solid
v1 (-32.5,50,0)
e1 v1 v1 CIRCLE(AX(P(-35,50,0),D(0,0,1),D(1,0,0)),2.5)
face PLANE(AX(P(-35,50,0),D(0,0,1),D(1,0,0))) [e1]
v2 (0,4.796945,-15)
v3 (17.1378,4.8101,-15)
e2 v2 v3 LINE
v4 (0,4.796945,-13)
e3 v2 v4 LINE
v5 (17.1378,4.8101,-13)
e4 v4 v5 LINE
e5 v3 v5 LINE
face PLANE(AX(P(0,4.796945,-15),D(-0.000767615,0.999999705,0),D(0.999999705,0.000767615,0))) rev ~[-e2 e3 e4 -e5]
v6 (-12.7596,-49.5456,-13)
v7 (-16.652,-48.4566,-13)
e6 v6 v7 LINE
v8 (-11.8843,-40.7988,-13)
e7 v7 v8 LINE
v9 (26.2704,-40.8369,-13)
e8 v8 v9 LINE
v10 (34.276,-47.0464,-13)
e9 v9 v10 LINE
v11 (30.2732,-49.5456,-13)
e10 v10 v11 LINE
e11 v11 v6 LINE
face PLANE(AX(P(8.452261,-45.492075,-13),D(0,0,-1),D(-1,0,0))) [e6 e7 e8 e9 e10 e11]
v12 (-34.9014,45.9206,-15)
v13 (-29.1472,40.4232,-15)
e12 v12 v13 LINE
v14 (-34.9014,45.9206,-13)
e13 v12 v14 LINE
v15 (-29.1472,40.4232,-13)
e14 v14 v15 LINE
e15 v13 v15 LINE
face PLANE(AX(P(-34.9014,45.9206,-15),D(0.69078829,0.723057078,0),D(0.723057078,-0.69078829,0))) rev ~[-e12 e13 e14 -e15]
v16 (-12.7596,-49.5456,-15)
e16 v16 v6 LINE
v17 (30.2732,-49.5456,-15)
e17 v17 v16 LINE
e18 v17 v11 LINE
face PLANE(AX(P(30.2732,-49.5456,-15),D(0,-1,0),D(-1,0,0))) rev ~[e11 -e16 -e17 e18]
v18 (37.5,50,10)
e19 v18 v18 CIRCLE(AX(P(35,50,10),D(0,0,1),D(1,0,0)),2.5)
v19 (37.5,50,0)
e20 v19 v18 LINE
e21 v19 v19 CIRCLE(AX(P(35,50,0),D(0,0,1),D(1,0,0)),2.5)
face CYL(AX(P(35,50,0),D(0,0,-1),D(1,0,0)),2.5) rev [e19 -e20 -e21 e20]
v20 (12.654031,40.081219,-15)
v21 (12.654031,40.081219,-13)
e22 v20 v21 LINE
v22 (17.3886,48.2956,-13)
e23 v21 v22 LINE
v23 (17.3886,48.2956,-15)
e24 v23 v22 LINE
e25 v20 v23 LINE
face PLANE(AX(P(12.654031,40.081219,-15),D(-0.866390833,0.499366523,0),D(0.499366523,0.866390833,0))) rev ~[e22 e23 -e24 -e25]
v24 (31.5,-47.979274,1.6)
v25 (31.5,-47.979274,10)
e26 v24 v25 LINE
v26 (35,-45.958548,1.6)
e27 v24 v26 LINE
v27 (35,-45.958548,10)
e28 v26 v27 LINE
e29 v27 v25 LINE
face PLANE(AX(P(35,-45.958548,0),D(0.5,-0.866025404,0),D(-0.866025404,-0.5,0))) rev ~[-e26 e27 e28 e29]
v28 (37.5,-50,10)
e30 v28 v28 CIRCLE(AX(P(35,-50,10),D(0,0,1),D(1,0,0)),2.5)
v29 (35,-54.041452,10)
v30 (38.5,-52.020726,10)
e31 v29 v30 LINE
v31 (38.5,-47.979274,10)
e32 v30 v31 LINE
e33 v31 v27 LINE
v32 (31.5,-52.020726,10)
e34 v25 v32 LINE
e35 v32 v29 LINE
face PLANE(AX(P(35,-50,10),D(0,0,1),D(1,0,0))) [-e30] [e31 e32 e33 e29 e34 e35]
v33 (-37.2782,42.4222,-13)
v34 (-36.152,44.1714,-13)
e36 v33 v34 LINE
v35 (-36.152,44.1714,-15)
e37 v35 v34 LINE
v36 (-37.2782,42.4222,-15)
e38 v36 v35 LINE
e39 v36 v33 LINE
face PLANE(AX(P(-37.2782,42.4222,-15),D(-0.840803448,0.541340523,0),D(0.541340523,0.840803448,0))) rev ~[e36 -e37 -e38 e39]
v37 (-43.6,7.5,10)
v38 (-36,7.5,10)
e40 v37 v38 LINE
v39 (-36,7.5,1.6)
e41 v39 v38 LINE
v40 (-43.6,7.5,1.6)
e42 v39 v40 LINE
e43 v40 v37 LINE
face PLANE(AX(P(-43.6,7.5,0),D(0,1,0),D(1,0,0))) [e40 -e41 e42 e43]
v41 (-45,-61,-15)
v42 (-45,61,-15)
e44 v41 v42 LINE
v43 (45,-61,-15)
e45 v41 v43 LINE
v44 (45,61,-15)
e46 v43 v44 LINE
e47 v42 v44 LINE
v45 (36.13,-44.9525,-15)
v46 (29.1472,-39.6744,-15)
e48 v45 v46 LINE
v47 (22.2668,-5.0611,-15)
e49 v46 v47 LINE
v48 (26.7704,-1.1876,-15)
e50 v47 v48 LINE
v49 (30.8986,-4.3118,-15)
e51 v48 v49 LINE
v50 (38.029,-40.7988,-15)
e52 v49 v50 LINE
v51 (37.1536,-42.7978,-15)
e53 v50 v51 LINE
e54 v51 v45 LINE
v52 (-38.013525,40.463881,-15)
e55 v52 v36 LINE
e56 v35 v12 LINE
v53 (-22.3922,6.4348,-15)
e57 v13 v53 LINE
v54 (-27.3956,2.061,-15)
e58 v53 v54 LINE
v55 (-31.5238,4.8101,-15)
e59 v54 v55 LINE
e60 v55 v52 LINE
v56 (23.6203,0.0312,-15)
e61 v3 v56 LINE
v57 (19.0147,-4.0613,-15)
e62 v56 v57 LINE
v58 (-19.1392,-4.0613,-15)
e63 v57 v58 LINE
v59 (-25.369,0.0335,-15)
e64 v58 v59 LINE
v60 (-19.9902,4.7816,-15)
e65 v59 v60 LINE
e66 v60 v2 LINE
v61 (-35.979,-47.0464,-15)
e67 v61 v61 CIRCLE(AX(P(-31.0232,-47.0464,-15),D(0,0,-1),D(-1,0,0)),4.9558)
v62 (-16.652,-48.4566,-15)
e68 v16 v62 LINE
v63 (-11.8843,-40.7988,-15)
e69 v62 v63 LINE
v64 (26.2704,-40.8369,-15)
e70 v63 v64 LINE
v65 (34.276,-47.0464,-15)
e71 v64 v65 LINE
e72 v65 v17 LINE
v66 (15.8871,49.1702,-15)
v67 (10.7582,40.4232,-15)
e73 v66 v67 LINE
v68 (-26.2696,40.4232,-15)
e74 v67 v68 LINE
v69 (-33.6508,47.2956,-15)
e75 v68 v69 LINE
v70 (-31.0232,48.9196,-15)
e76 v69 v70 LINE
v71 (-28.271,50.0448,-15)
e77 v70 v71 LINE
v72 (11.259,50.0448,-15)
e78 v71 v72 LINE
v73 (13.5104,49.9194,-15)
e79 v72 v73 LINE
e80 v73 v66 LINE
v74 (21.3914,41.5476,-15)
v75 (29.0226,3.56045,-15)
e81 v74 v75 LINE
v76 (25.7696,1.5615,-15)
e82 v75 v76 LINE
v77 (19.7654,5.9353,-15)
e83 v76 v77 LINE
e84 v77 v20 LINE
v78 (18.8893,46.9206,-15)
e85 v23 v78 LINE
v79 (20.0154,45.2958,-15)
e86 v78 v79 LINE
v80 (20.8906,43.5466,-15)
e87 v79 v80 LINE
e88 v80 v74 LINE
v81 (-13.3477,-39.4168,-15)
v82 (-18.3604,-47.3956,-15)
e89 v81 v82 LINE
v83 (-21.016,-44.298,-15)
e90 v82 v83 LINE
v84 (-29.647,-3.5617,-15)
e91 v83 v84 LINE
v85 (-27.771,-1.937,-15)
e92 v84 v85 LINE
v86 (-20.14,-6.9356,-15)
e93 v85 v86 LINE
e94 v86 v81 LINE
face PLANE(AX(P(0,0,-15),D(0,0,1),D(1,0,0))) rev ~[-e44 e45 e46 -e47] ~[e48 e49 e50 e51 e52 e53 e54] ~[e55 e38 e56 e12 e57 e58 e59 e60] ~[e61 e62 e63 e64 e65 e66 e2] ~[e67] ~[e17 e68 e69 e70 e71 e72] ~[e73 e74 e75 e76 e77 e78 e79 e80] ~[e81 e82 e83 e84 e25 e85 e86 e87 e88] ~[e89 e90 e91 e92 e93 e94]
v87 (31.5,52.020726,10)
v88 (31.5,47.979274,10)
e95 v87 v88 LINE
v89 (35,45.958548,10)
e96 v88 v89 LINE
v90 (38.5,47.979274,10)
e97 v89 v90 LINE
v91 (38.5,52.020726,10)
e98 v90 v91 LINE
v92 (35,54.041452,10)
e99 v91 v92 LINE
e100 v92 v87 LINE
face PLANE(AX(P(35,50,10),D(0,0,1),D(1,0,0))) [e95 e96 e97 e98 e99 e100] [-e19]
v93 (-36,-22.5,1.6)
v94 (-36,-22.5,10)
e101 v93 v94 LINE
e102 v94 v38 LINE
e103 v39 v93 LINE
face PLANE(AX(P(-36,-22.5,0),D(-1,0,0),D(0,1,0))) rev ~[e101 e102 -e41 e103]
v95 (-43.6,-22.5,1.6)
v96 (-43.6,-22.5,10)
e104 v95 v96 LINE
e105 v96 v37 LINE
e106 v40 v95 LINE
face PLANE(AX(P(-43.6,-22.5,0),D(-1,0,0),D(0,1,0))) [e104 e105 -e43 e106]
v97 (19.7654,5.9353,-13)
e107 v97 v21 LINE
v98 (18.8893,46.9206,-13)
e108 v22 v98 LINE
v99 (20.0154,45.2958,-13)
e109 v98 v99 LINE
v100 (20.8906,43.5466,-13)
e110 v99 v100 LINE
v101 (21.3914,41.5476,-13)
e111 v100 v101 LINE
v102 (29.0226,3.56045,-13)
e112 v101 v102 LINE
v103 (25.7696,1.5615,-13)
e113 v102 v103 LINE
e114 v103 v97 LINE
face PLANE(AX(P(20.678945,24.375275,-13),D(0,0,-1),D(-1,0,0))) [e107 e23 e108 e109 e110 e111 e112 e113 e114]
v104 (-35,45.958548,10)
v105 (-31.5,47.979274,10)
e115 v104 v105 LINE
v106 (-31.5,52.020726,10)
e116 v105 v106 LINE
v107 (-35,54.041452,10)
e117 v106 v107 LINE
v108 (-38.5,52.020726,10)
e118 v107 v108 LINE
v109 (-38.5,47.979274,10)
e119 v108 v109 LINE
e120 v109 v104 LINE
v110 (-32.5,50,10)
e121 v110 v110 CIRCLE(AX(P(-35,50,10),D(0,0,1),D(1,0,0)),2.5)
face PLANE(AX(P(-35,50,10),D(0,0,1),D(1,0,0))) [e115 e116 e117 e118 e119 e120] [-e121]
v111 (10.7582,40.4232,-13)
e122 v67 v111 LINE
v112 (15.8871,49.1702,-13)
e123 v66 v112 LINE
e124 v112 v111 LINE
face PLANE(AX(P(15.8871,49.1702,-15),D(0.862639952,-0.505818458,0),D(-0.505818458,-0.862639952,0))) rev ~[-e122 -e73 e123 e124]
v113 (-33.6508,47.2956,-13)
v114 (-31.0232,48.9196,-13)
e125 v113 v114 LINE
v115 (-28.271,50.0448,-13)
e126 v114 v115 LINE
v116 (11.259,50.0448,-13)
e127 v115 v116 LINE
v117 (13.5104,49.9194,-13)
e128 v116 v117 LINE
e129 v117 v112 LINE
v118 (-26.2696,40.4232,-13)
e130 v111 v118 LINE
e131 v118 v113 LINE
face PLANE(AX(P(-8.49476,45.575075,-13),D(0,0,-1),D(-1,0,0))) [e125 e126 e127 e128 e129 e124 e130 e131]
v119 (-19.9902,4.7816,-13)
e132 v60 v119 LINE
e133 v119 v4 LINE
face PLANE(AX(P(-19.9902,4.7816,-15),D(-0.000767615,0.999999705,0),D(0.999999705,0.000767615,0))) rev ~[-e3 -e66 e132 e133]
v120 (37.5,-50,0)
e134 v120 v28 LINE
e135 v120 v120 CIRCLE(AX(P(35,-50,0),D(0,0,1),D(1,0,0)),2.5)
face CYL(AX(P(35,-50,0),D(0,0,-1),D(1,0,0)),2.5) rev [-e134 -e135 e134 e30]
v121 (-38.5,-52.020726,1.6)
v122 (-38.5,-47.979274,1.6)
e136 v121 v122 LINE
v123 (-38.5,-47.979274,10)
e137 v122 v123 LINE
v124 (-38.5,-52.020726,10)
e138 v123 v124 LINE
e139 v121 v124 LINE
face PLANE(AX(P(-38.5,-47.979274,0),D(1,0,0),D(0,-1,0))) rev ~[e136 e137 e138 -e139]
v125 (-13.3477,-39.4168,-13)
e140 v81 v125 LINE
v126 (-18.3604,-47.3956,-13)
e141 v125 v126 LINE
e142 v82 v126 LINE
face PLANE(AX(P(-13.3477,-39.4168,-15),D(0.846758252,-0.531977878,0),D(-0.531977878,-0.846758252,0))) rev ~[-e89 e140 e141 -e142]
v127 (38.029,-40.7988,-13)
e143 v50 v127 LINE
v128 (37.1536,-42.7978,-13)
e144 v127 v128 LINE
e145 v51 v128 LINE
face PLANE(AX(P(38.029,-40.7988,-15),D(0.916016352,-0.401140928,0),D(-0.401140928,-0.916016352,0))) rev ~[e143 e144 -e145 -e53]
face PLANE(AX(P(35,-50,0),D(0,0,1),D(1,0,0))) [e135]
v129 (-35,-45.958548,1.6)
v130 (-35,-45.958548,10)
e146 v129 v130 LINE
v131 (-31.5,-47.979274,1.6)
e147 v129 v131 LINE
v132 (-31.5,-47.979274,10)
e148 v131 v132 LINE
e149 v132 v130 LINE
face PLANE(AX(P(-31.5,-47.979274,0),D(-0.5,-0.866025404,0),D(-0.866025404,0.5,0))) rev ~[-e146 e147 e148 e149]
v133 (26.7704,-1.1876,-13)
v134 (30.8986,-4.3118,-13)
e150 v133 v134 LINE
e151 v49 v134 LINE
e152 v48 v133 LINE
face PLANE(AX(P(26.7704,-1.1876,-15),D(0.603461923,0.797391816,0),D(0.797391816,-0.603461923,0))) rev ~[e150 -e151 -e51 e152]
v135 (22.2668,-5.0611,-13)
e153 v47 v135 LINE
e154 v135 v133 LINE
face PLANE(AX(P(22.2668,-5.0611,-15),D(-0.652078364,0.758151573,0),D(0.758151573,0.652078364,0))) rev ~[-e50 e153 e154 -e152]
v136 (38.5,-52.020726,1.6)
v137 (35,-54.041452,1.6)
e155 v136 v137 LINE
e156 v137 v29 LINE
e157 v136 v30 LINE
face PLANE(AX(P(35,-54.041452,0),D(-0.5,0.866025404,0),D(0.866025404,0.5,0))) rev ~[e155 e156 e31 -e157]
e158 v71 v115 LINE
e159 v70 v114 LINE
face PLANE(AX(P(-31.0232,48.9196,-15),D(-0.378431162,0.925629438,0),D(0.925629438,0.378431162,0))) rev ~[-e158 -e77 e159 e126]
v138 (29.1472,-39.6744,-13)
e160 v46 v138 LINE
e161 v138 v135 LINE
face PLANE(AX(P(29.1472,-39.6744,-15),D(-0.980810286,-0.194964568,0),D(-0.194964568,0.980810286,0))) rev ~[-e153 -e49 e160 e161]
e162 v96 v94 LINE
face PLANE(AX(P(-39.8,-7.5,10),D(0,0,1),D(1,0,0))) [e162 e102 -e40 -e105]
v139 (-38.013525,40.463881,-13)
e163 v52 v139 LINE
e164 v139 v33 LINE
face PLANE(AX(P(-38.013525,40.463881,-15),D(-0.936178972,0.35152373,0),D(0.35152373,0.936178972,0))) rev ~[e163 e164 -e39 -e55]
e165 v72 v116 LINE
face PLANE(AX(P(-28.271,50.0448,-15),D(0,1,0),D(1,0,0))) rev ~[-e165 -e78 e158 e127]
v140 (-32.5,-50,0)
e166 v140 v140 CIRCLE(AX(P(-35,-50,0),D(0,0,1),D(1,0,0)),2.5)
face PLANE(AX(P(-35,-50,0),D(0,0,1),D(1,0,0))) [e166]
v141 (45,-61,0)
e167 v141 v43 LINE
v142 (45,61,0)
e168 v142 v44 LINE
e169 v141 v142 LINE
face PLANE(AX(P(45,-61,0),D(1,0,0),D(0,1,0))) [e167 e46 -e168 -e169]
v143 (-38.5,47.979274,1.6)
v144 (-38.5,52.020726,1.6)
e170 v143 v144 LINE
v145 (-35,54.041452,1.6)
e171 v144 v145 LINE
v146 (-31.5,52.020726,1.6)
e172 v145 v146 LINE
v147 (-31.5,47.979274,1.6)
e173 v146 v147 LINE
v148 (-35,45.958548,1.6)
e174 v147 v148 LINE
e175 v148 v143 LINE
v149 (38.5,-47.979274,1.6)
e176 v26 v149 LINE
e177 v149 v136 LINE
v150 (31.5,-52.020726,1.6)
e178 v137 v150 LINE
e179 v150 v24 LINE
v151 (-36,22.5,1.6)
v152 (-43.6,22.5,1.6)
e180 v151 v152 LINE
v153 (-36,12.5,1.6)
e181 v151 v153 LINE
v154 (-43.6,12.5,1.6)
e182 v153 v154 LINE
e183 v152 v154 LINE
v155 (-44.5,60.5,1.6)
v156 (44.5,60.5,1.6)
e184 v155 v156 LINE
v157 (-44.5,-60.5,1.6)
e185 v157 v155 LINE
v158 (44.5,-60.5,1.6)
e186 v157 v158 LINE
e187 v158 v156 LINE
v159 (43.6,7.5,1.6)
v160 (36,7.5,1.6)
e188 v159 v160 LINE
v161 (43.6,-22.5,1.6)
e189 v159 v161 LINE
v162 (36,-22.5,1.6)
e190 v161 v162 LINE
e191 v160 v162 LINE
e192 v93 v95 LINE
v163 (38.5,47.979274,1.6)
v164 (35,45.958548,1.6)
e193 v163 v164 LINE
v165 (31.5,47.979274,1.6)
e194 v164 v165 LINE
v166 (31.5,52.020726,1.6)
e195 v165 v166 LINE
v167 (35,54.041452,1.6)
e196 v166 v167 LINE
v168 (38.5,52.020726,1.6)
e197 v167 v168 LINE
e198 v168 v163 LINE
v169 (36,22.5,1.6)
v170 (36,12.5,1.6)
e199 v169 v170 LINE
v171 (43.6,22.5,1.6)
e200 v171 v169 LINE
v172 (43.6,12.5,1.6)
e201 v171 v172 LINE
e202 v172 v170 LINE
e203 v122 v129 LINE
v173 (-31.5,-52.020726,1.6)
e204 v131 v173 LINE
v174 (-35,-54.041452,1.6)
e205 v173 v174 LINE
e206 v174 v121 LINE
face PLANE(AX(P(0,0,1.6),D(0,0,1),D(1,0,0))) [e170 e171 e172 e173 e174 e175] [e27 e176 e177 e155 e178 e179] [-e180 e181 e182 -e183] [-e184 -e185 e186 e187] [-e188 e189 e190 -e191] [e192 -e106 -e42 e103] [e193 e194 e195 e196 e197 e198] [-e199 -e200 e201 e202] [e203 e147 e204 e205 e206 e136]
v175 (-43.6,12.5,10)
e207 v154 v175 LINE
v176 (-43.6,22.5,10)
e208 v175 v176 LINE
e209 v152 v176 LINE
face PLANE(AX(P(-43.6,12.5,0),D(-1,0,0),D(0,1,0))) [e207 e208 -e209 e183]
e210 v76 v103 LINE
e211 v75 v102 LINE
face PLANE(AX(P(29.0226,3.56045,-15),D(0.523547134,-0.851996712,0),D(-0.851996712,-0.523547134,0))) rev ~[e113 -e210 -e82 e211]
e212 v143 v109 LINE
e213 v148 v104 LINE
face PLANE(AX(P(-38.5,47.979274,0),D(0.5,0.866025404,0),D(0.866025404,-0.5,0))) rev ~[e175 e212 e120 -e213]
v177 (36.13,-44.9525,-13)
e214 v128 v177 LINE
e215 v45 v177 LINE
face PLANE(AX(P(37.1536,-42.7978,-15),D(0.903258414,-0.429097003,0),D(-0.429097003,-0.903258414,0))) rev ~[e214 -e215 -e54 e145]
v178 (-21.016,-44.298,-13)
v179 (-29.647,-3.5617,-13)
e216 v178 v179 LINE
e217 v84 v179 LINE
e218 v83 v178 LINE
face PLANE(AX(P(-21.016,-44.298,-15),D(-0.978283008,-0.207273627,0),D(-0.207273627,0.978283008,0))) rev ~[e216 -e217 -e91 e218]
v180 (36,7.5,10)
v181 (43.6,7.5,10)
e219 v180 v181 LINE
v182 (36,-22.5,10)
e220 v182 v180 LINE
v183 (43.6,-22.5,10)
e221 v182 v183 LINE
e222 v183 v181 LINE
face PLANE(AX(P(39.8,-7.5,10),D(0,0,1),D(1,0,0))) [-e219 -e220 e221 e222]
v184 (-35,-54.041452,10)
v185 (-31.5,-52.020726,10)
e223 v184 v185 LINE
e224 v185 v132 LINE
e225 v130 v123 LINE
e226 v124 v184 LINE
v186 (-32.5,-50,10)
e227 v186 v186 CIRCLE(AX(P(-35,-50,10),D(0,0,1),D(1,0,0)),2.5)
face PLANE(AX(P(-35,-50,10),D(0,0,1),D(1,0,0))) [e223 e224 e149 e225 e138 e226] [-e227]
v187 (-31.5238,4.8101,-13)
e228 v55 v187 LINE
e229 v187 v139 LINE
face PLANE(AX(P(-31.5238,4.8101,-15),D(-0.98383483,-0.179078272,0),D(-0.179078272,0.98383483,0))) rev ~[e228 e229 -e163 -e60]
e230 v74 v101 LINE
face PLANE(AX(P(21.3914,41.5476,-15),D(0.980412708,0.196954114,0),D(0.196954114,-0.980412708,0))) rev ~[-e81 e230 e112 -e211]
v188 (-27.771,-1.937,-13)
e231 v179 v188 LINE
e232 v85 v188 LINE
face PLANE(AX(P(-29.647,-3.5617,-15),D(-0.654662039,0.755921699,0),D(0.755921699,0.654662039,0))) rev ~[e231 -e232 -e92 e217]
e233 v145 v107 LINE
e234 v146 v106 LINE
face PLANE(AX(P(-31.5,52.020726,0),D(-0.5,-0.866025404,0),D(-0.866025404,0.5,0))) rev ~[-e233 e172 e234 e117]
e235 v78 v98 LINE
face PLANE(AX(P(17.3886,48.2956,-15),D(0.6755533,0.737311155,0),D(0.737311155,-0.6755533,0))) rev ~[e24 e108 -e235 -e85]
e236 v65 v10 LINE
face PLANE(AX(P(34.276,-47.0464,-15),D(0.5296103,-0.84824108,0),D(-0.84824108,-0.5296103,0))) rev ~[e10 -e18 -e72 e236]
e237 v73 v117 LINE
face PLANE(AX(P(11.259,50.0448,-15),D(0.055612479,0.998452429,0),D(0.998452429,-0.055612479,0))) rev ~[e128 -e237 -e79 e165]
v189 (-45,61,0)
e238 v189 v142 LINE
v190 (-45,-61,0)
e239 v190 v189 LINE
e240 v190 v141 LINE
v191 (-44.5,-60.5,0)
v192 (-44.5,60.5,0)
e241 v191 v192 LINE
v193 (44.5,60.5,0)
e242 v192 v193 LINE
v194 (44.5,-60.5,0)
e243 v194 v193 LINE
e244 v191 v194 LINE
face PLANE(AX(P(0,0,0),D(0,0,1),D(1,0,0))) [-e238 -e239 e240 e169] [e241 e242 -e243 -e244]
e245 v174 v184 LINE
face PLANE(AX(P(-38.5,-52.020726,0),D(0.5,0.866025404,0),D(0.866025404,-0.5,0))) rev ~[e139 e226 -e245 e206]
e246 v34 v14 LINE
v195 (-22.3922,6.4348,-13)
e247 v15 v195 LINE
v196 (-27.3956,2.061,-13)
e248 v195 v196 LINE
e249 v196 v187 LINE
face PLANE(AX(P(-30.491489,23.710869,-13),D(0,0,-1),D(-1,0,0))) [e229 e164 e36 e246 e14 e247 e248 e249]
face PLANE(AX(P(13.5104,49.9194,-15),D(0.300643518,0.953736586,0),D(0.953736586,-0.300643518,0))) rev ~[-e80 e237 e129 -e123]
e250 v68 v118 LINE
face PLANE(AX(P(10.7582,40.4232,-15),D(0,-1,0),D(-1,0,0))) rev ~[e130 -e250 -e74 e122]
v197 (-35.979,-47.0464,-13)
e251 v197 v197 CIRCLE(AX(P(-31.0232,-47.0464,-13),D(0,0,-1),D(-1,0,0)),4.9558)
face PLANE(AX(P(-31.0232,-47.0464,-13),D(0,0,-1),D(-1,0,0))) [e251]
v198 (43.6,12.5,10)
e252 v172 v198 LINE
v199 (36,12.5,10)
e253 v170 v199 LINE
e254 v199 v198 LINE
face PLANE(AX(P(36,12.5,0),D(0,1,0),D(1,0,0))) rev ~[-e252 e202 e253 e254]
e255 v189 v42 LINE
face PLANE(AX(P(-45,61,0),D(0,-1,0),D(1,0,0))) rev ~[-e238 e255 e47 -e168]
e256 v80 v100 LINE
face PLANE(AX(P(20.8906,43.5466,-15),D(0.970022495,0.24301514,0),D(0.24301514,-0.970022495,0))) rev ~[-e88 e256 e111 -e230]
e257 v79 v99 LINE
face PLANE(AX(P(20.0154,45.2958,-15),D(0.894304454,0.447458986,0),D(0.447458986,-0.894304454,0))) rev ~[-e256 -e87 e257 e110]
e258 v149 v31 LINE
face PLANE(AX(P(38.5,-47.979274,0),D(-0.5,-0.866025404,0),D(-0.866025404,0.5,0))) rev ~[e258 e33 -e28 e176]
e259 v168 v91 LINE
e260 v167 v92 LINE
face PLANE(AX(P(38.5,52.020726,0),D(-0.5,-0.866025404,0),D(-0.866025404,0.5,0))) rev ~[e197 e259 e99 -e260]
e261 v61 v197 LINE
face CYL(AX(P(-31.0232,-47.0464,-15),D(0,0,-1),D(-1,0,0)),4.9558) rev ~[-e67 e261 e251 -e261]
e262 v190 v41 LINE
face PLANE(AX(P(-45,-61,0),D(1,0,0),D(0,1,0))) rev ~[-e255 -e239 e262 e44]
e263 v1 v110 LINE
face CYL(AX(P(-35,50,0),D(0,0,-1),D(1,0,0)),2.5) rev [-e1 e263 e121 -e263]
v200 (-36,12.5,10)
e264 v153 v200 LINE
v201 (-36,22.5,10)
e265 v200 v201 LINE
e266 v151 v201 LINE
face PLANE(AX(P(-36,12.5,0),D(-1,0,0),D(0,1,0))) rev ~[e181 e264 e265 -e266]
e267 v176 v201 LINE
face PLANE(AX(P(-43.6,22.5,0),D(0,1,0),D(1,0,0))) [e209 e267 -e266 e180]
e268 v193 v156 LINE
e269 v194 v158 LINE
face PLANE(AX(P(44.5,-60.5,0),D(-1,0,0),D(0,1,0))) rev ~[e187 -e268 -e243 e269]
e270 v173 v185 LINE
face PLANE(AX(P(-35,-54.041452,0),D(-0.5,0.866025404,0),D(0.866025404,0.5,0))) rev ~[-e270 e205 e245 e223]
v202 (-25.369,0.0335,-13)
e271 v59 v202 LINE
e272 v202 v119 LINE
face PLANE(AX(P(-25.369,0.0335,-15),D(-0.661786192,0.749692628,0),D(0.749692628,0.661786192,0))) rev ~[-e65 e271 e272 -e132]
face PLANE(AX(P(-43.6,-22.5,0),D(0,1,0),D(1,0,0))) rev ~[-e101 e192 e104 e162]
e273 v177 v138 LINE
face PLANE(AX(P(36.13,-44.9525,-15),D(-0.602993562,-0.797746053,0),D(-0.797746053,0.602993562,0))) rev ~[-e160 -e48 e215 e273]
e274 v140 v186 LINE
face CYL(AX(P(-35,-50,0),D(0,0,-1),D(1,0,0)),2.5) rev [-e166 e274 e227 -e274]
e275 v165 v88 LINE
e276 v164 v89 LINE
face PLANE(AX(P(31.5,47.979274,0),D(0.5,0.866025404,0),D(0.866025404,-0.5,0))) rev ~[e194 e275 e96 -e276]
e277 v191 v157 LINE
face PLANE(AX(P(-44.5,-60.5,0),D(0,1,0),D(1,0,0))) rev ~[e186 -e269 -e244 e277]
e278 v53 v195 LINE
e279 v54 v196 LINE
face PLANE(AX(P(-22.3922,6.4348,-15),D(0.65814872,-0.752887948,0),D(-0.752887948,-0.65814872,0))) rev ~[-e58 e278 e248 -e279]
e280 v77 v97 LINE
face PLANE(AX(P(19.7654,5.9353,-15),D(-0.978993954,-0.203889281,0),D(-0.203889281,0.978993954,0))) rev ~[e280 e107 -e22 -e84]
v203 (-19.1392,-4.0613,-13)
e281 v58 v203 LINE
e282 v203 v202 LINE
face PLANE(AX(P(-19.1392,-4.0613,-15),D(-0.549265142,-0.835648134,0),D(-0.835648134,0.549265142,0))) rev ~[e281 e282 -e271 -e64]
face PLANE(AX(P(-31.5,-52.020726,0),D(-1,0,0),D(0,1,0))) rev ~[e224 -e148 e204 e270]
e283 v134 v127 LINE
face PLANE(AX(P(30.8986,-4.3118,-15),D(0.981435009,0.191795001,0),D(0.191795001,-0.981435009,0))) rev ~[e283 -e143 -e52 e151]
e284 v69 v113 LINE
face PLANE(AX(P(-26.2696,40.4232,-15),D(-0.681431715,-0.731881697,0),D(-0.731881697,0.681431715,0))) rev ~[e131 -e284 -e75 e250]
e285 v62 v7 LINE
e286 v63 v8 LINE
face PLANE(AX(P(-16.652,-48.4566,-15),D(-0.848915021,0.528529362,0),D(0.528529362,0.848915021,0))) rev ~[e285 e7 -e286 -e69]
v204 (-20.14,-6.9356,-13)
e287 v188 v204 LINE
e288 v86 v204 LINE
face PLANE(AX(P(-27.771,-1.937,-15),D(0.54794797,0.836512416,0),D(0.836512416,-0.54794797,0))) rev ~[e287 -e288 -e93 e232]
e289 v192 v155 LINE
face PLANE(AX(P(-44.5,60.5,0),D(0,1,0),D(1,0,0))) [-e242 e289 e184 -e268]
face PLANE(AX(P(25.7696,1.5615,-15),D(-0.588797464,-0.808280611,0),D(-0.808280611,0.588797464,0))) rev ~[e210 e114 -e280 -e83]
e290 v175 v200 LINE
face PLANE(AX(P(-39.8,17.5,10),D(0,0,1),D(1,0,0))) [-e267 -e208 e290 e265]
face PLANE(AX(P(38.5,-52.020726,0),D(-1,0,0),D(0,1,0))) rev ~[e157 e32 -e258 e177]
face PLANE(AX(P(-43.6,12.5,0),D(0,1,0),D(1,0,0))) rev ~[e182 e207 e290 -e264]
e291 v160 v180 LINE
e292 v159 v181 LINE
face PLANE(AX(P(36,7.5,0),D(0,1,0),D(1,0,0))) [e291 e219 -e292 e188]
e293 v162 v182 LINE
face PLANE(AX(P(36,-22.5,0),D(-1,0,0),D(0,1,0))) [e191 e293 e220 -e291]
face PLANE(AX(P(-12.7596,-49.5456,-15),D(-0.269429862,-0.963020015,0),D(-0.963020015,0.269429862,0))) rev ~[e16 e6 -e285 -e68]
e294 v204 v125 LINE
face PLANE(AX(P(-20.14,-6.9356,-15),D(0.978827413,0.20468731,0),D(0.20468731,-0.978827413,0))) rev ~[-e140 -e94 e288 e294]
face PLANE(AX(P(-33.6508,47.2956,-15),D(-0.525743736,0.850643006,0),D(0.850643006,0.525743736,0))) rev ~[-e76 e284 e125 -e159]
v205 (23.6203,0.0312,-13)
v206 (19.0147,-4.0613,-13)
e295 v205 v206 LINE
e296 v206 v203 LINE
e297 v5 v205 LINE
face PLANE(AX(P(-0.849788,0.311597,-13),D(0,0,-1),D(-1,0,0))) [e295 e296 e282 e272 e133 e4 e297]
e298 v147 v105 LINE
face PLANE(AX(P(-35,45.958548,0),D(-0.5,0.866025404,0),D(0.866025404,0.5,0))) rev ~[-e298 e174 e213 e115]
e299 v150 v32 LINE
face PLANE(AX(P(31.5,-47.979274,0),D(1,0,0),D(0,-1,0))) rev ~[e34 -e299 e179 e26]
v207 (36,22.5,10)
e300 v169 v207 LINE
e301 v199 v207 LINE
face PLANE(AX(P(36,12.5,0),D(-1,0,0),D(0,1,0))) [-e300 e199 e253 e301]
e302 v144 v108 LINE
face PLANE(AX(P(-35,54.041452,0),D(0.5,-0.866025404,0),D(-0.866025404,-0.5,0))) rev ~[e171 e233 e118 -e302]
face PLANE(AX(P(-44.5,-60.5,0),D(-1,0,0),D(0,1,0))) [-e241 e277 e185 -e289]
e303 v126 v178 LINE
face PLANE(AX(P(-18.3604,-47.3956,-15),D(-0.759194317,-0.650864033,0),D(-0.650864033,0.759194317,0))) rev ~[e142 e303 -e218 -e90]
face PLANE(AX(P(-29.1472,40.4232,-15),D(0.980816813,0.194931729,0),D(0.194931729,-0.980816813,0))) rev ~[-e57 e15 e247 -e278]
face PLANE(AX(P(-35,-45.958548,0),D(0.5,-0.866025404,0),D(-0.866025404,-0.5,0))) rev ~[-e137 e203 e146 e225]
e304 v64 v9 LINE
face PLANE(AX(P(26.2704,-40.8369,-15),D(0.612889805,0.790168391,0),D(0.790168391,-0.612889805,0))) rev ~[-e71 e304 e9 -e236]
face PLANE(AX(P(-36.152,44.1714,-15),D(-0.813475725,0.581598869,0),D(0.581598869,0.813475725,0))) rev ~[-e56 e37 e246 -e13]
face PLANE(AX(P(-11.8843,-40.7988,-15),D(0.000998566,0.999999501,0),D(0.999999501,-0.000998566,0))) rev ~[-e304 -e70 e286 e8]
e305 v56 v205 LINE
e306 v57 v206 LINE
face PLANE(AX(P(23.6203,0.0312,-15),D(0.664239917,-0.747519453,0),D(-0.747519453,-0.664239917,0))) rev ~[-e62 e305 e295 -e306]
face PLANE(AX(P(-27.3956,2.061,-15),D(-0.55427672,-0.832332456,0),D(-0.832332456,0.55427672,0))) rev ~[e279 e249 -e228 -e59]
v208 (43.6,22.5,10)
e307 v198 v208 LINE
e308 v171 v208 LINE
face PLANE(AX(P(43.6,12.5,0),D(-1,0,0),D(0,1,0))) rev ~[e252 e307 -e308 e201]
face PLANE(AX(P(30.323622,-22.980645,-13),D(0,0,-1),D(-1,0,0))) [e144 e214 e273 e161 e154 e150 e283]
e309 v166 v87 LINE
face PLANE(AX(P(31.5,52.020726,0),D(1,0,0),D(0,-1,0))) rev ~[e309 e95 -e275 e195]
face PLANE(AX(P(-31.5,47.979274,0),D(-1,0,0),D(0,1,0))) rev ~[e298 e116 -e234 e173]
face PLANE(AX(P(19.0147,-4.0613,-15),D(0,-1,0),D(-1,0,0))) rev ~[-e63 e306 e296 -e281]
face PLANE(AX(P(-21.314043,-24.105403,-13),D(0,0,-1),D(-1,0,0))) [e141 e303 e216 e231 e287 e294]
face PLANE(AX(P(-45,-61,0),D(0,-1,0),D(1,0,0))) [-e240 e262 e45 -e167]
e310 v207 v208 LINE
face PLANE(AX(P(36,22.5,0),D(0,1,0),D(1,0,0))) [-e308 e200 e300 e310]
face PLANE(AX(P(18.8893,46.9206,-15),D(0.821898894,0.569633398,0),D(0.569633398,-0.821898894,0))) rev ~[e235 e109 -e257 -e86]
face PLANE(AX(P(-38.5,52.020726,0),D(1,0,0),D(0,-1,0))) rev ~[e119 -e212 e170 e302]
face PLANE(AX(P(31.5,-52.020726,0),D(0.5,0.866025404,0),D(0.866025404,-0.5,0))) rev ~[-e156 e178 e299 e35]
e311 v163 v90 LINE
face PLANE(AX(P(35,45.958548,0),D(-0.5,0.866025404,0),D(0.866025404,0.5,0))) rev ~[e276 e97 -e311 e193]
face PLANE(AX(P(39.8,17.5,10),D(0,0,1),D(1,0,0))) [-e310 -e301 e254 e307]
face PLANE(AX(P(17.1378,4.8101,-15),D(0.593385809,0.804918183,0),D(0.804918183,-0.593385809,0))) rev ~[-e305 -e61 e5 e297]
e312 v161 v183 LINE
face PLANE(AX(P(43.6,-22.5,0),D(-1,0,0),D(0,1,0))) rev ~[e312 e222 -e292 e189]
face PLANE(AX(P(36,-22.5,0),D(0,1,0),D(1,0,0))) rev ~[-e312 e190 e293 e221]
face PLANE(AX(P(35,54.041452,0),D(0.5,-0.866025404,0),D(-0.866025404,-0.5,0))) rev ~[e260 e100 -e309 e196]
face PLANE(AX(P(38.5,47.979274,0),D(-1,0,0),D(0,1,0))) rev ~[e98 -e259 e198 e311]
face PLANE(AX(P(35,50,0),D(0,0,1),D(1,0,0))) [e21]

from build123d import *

# Parameters (mm, degrees)
MODEL_W             = 90
MODEL_H             = 122
BOSS_EXTRUDE1_DEPTH = 15
MODEL_3_W           = 89
MODEL_3_H           = 121
BOSS_EXTRUDE2_DEPTH = 1.6
BOSS_EXTRUDE3_DEPTH = 10
MODEL_5_W           = 7.6
MODEL_5_H           = 10
BOSS_EXTRUDE4_DEPTH = 10
MODEL_6_W           = 7.6
MODEL_6_H           = 30
BOSS_EXTRUDE5_DEPTH = 10
MODEL_7_R           = 2.5
CUT_EXTRUDE1_DEPTH  = 10
SKETCH4_R           = 4.955800122
CUT_EXTRUDE2_DEPTH  = 2


with BuildPart() as part:
    # Model → Boss-Extrude1 (new body)
    with BuildSketch(Plane.XY):
        Rectangle(MODEL_W, MODEL_H)
    extrude(amount=-BOSS_EXTRUDE1_DEPTH)

    # Model<3> → Boss-Extrude2 (add)
    with BuildSketch(Plane.XY):
        Rectangle(MODEL_3_W, MODEL_3_H)
    extrude(amount=BOSS_EXTRUDE2_DEPTH)

    # Model<4> → Boss-Extrude3 (add)
    with BuildSketch(Plane.XY):
        Polygon((-35, 45.958548116), (-31.5, 47.979274058), (-31.5, 52.020725942), (-35, 54.041451884), (-38.5, 52.020725942), (-38.5, 47.979274058), align=None)
        Polygon((35, 45.958548116), (38.5, 47.979274058), (38.5, 52.020725942), (35, 54.041451884), (31.5, 52.020725942), (31.5, 47.979274058), align=None)
        Polygon((35, -45.958548116), (31.5, -47.979274058), (31.5, -52.020725942), (35, -54.041451884), (38.5, -52.020725942), (38.5, -47.979274058), align=None)
        Polygon((-35, -45.958548116), (-38.5, -47.979274058), (-38.5, -52.020725942), (-35, -54.041451884), (-31.5, -52.020725942), (-31.5, -47.979274058), align=None)
    extrude(amount=BOSS_EXTRUDE3_DEPTH)

    # Model<5> → Boss-Extrude4 (add)
    with BuildSketch(Plane.XY):
        with Locations((-39.8, 17.5)):
            Rectangle(MODEL_5_W, MODEL_5_H)
        with Locations((39.8, 17.5)):
            Rectangle(MODEL_5_W, MODEL_5_H)
    extrude(amount=BOSS_EXTRUDE4_DEPTH)

    # Model<6> → Boss-Extrude5 (add)
    with BuildSketch(Plane.XY):
        with Locations((-39.8, -7.5)):
            Rectangle(MODEL_6_W, MODEL_6_H)
        with Locations((39.8, -7.5)):
            Rectangle(MODEL_6_W, MODEL_6_H)
    extrude(amount=BOSS_EXTRUDE5_DEPTH)

    # Model<7> → Cut-Extrude1 (cut)
    with BuildSketch(Plane.XY):
        with Locations((-35, 50)):
            Circle(MODEL_7_R)
        with Locations((35, 50)):
            Circle(MODEL_7_R)
        with Locations((-35, -50)):
            Circle(MODEL_7_R)
        with Locations((35, -50)):
            Circle(MODEL_7_R)
    extrude(amount=CUT_EXTRUDE1_DEPTH, mode=Mode.SUBTRACT)

    # Sketch4 → Cut-Extrude2 (cut)
    with BuildSketch(Plane(origin=(0, 0, -15), x_dir=(-1, 0, 0), z_dir=(0, 0, -1))):
        Polygon((19.1392, -4.0613), (25.369, 0.0335), (19.9902, 4.7816), (0, 4.796944772), (-17.1378, 4.8101), (-23.6203, 0.0312), (-19.0147, -4.0613), align=None)
        Polygon((-10.7582, 40.4232), (26.2696, 40.4232), (33.6508, 47.2956), (31.0232, 48.9196), (28.271, 50.0448), (-11.259, 50.0448), (-13.5104, 49.9194), (-15.8871, 49.1702), align=None)
        Polygon((-38.029, -40.7988), (-37.1536, -42.7978), (-36.13, -44.9525), (-29.1472, -39.6744), (-22.2668, -5.0611), (-26.7704, -1.1876), (-30.8986, -4.3118), align=None)
        Polygon((-25.7696, 1.5615), (-19.7654, 5.9353), (-12.654031371, 40.081219045), (-17.3886, 48.2956), (-18.8893, 46.9206), (-20.0154, 45.2958), (-20.8906, 43.5466), (-21.3914, 41.5476), (-29.0226, 3.56045), align=None)
        Polygon((29.1472, 40.4232), (22.3922, 6.4348), (27.3956, 2.061), (31.5238, 4.8101), (38.013524934, 40.463880597), (37.2782, 42.4222), (36.152, 44.1714), (34.9014, 45.9206), align=None)
        Polygon((27.771, -1.937), (20.14, -6.9356), (13.3477, -39.4168), (18.3604, -47.3956), (21.016, -44.298), (29.647, -3.5617), align=None)
        Polygon((-30.2732, -49.5456), (12.7596, -49.5456), (16.652, -48.4566), (11.8843, -40.7988), (-26.2704, -40.8369), (-34.276, -47.0464), align=None)
        with Locations((31.0232, -47.0464)):
            Circle(SKETCH4_R)
    extrude(amount=-CUT_EXTRUDE2_DEPTH, mode=Mode.SUBTRACT)


solid = part.part
